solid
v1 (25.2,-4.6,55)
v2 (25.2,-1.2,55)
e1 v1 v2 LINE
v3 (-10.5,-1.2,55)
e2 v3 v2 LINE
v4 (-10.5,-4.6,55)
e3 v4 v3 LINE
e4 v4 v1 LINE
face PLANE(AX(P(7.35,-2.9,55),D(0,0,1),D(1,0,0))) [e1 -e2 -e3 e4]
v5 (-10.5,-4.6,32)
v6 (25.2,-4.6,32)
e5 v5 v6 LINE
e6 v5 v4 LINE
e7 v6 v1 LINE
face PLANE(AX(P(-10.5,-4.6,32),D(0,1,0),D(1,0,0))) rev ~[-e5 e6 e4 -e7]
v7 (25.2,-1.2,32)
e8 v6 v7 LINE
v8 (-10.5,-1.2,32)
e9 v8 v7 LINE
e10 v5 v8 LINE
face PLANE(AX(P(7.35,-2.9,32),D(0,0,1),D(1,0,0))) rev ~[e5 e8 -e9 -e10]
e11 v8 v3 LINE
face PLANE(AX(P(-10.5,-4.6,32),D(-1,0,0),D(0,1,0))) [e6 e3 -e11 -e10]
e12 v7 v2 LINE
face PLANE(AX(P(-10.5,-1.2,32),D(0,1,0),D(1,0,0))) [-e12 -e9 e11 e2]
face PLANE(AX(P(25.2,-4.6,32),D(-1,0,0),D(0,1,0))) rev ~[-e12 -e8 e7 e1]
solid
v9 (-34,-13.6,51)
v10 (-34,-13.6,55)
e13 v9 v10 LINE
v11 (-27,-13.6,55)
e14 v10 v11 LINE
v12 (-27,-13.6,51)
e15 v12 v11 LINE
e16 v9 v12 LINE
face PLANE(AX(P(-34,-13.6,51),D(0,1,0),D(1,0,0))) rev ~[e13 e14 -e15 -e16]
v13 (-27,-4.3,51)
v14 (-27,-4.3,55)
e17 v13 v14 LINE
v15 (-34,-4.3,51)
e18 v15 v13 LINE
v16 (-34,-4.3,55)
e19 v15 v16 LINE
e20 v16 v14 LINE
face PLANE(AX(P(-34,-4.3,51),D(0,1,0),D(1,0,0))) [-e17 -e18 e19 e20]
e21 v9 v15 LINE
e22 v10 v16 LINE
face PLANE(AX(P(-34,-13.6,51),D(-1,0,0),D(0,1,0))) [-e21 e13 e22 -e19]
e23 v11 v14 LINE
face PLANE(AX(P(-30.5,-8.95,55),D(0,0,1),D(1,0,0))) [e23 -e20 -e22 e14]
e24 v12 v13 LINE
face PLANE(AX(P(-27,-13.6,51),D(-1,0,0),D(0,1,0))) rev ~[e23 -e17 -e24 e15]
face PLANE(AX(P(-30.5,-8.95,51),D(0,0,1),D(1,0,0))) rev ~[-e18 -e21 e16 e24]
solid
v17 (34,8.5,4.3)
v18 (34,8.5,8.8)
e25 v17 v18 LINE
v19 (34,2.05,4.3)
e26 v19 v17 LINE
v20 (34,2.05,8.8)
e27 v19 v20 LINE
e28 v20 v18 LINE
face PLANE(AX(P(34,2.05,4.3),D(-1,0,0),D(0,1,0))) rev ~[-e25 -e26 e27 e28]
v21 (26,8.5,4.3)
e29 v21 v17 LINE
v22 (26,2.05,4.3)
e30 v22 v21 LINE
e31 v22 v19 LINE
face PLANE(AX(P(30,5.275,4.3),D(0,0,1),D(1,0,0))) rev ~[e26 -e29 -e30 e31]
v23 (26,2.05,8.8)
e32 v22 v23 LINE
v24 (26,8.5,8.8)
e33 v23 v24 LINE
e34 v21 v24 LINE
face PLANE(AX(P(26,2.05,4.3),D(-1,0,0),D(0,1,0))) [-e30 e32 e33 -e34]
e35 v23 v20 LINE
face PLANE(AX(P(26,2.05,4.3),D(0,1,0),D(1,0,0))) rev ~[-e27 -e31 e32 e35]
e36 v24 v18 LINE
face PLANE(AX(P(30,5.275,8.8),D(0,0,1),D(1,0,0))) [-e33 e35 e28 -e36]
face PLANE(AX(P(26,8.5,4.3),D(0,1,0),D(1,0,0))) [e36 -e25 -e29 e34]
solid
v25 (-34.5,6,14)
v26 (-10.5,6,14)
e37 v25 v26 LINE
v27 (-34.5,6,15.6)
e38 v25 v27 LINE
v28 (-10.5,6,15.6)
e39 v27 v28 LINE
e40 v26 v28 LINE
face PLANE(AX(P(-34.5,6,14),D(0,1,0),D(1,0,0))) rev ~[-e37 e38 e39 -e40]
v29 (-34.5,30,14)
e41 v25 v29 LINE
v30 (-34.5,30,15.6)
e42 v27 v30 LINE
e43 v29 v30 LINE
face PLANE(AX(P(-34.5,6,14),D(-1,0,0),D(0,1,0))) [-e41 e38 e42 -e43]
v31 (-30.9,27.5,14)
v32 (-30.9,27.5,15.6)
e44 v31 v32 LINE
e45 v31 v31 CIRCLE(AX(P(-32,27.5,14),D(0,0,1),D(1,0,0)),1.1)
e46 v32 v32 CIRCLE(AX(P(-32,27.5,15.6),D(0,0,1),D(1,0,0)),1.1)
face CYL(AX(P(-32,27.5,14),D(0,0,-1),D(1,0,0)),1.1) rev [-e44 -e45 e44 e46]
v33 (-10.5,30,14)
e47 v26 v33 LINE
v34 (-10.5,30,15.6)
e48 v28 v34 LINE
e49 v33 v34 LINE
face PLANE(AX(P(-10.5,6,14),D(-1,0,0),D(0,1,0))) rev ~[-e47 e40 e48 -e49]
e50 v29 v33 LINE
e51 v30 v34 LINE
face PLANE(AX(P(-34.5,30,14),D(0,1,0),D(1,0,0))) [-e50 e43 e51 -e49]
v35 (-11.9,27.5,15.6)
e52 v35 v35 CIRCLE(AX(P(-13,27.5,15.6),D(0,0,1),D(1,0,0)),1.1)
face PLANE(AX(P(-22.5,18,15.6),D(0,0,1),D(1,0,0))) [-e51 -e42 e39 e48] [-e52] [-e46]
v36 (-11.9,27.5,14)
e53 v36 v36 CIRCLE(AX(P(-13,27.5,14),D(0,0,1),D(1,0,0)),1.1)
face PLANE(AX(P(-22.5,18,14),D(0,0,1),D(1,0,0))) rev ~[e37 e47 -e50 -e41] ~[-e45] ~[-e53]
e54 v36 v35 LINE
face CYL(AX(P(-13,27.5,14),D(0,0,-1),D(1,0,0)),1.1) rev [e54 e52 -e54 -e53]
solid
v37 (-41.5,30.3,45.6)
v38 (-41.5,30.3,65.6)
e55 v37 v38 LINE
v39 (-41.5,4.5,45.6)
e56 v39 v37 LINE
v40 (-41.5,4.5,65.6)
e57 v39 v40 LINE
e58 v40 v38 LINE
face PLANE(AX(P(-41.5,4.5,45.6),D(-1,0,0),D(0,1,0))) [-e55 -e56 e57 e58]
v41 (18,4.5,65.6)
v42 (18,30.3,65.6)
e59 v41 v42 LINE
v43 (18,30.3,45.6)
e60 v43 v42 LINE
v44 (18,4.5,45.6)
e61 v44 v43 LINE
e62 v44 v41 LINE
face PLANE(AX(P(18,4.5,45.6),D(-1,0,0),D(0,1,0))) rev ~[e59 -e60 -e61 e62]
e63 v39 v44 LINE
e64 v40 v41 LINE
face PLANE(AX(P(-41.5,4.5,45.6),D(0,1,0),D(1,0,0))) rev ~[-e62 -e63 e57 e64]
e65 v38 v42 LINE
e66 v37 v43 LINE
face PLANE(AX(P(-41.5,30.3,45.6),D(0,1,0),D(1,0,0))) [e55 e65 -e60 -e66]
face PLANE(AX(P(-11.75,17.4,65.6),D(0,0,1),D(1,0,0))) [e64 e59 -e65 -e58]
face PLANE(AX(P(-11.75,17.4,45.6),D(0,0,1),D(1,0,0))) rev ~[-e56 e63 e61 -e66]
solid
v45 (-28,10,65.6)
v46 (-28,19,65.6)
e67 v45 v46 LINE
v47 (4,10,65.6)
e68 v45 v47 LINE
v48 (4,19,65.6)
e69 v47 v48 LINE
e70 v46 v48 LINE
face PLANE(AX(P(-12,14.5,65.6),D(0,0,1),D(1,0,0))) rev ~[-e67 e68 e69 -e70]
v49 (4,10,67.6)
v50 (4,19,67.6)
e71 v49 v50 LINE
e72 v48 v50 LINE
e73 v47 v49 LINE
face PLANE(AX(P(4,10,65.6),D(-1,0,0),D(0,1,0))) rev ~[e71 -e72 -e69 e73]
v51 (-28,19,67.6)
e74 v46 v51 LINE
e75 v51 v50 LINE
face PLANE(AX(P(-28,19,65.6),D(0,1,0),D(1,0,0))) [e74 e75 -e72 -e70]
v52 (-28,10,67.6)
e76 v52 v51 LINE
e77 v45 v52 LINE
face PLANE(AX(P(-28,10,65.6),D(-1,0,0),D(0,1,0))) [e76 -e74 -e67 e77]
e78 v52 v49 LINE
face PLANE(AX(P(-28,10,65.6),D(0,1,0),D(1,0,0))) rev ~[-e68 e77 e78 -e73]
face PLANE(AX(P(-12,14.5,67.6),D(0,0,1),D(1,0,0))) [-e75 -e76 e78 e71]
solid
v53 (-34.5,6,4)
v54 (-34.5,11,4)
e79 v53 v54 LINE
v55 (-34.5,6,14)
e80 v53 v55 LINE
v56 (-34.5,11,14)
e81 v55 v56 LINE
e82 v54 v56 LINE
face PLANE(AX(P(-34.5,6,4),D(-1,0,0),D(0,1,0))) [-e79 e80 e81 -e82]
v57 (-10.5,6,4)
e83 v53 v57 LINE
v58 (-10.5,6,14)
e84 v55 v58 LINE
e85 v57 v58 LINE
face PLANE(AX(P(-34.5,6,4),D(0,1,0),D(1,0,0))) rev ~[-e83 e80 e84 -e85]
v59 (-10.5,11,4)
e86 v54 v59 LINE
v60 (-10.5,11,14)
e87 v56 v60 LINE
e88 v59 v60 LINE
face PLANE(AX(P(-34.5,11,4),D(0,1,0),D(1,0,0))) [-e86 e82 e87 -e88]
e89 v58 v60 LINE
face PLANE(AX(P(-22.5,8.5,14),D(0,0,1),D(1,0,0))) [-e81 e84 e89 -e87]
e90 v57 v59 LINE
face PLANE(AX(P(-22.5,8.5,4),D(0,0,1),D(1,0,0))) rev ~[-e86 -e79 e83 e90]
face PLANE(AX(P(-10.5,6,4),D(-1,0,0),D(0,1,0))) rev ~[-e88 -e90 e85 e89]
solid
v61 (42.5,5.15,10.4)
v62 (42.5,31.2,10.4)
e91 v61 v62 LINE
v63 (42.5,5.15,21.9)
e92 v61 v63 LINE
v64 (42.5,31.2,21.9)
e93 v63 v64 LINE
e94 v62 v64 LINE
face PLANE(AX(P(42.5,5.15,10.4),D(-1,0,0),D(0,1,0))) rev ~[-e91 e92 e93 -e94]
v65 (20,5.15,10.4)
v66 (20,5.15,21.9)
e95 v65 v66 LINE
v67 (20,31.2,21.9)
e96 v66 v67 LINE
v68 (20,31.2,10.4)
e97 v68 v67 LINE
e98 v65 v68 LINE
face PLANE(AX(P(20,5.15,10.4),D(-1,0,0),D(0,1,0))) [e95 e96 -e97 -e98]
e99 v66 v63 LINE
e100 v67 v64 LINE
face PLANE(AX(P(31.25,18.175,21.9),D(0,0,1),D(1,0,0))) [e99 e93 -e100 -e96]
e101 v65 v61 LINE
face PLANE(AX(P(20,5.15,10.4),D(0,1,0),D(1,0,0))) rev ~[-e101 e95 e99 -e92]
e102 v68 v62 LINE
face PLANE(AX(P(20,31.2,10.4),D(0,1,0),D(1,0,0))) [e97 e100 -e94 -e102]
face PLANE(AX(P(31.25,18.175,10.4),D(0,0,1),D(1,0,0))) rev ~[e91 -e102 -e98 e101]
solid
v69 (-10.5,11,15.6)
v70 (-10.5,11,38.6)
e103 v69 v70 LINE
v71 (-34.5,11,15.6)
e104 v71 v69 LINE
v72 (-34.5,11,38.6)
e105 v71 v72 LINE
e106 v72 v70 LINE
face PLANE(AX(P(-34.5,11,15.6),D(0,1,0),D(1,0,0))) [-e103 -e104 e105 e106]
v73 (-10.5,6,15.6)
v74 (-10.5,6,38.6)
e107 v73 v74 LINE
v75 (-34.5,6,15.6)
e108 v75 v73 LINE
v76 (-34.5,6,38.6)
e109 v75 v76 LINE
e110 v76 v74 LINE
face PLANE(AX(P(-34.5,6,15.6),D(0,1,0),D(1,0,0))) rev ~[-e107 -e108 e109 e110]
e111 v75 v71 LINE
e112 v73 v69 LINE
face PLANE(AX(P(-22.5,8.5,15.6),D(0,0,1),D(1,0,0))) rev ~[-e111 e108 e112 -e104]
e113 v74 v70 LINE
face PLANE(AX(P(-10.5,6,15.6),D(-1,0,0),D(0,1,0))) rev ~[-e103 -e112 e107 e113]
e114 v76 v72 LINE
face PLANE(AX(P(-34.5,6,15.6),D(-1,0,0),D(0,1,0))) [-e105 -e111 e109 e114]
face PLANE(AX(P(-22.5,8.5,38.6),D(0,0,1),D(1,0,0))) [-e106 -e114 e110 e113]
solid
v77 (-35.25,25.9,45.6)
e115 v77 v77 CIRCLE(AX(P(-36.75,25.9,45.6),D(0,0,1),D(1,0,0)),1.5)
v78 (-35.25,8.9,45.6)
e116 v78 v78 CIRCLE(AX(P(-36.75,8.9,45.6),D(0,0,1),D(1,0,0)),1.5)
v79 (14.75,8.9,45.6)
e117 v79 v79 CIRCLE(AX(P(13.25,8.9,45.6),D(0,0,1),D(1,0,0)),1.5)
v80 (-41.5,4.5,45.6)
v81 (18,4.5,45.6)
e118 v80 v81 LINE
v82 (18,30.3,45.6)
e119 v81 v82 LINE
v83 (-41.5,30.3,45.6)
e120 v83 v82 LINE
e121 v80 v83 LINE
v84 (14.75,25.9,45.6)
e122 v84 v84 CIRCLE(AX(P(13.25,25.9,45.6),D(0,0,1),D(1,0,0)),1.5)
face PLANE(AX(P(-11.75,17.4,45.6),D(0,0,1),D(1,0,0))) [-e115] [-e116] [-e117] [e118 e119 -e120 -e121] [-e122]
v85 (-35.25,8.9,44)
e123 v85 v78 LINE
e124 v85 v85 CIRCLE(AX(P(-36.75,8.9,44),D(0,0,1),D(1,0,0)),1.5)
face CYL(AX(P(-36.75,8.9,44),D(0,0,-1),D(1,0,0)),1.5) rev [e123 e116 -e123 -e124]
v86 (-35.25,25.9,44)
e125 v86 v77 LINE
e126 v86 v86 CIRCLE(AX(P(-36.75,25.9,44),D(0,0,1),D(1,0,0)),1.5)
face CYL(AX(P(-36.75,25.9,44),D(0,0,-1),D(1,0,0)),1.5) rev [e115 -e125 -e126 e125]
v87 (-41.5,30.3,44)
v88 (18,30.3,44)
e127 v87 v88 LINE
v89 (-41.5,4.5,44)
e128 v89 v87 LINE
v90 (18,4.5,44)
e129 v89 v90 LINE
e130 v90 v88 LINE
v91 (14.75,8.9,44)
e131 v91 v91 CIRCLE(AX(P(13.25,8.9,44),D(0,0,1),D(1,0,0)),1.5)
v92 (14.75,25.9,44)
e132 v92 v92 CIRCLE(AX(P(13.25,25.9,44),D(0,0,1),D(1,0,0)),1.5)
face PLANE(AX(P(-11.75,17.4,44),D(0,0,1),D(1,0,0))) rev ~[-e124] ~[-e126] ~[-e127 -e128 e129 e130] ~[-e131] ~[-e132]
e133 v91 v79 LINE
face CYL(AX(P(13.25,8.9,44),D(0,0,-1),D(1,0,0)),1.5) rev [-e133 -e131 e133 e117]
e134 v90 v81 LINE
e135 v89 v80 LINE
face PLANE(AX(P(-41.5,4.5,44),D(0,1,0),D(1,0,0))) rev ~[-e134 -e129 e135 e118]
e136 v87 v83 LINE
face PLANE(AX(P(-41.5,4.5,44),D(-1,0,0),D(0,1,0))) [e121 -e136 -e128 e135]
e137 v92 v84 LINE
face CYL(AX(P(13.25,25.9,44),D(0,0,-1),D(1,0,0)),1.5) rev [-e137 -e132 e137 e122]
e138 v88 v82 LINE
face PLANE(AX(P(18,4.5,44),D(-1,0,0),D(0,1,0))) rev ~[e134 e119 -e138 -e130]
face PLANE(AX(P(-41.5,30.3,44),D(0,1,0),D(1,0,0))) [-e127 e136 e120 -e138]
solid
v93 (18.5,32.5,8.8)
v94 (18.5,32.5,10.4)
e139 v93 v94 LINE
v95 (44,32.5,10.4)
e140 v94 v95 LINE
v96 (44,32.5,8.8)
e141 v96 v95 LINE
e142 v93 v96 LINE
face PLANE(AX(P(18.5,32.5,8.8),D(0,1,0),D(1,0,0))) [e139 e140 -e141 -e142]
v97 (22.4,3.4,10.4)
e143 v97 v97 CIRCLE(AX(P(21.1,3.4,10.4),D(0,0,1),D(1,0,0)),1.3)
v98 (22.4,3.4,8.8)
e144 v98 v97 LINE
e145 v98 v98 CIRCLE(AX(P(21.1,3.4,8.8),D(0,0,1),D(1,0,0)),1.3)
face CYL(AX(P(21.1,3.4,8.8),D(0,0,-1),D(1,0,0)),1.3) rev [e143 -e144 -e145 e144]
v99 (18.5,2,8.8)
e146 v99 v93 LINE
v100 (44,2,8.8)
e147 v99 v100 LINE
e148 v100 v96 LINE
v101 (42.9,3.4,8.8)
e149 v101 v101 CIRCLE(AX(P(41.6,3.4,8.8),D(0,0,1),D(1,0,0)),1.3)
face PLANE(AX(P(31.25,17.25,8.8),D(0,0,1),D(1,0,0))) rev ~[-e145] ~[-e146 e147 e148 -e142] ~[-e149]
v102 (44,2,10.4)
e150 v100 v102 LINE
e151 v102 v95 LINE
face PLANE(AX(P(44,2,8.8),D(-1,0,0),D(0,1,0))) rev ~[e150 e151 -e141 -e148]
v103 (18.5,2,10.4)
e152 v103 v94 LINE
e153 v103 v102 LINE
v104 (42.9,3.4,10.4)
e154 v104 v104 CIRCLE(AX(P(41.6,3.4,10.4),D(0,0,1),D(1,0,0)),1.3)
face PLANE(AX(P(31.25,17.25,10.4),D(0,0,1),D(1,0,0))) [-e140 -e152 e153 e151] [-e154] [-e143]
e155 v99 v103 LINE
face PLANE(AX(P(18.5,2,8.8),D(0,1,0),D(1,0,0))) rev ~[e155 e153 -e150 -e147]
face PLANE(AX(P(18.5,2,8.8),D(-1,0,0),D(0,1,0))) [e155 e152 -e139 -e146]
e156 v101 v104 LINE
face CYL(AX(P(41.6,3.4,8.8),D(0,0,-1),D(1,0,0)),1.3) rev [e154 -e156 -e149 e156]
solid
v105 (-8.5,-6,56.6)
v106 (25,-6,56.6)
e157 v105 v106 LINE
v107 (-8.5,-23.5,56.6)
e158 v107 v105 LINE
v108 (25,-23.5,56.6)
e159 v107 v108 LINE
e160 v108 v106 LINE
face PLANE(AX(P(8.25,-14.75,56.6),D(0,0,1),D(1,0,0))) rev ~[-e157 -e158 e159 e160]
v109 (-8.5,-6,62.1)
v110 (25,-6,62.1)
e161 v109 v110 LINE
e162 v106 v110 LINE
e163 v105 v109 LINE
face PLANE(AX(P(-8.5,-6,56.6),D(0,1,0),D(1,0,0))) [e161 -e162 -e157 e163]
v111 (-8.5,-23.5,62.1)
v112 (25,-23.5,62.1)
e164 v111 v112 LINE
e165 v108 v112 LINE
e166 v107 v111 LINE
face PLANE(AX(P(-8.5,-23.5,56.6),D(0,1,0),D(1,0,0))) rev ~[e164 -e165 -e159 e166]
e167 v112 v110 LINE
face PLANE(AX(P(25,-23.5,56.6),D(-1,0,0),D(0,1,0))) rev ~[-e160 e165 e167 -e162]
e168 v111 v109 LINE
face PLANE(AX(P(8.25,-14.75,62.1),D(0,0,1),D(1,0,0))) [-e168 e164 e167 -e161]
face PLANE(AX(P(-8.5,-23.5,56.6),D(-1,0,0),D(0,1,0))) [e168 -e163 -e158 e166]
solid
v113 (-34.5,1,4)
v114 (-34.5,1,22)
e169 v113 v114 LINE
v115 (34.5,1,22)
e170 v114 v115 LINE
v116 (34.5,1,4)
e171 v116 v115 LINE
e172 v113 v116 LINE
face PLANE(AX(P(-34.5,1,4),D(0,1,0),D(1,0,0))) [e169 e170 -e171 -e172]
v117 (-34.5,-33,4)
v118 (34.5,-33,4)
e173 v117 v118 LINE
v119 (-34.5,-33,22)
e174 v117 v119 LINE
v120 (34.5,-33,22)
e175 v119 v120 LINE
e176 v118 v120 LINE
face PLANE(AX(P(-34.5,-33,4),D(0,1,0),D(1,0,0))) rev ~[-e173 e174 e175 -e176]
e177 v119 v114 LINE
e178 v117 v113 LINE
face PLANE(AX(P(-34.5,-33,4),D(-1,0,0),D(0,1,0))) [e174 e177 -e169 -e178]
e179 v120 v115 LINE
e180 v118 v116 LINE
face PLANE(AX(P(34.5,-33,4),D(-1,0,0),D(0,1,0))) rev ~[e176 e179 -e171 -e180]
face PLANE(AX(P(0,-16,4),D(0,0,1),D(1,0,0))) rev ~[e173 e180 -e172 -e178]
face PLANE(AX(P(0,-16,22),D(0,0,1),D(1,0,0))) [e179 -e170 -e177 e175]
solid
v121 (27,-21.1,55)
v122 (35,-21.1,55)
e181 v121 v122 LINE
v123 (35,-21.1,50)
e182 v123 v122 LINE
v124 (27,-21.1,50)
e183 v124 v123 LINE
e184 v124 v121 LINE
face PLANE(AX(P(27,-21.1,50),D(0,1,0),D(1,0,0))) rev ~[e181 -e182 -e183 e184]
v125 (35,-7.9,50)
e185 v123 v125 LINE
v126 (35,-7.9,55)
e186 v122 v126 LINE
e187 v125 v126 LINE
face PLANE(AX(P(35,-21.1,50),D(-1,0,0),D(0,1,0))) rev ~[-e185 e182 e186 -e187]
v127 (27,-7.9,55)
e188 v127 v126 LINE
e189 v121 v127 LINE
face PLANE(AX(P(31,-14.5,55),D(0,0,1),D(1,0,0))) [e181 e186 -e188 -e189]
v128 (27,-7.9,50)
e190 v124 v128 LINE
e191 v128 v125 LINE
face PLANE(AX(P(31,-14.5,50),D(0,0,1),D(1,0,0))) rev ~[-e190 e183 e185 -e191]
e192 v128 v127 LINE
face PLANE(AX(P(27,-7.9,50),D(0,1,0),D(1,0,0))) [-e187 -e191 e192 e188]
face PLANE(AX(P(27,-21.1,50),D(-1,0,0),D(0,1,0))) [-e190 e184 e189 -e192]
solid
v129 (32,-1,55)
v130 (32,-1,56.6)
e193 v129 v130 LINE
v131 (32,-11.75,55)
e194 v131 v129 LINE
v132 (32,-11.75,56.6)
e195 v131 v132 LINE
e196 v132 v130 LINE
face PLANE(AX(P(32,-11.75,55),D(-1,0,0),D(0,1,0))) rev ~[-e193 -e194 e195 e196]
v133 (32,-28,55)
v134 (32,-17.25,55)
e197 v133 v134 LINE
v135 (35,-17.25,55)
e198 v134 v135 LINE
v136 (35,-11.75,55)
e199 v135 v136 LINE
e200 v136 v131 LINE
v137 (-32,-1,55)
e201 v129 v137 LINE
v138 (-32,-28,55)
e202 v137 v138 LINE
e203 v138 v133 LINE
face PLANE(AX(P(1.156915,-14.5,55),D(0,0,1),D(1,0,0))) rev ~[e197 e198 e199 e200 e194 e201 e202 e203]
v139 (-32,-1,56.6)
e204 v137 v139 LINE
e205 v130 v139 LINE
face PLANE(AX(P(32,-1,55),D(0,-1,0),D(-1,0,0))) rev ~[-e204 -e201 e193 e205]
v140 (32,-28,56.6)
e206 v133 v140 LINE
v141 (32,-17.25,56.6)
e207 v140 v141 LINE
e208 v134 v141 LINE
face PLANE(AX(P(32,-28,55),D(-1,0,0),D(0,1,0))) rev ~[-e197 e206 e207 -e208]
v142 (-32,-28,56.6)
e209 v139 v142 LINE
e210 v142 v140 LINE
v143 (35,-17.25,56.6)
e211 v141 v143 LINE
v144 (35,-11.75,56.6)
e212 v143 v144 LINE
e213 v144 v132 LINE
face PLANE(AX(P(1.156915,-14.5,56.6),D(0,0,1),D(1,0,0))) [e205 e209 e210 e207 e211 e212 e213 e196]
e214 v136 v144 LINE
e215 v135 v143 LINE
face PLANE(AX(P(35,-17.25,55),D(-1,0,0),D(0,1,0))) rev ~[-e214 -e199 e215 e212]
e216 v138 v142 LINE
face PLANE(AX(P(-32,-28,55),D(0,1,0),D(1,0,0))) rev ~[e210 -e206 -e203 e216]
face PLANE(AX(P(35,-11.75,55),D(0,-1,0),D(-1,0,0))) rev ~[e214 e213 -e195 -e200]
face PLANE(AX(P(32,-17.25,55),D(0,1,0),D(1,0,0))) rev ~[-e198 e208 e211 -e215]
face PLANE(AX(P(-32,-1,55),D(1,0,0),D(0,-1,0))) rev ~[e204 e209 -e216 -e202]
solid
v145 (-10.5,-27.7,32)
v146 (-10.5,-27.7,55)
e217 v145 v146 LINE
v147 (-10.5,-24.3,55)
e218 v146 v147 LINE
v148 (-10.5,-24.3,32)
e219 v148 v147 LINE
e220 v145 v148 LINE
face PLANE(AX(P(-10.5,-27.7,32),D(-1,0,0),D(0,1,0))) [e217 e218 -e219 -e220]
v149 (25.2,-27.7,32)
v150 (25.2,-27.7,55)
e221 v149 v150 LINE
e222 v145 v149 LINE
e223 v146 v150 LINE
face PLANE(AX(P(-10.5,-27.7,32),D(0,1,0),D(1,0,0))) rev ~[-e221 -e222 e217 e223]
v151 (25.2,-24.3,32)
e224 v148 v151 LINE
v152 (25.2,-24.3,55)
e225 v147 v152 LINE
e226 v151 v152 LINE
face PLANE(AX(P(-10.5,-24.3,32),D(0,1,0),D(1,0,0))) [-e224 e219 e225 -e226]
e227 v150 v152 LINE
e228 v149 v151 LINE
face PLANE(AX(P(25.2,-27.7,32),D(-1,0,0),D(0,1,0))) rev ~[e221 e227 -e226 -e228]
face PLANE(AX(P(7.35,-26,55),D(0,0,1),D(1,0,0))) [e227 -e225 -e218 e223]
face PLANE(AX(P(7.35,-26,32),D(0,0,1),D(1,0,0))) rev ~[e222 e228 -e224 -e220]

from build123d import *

# Parameters (mm, degrees)
EXTRUDE_START           = 4
PROFILE_W               = 69
PROFILE_H               = 34
EXTRUDE_469_DEPTH       = 18
EXTRUDE_START_2         = 14
F_24_24_2_2_PROFILE_W   = 24
F_24_24_2_2_PROFILE_H   = 24
F_24_24_2_2_PROFILE_R   = 1.1
EXTRUDE_24_24_2_2_DEPTH = 1.6
F_5MM_10MM_START        = 4
F_5MM_10MM_PROFILE_W    = 24
F_5MM_10MM_PROFILE_H    = 5
F_5MM_10MM_DEPTH        = 10
F_5MM_START             = 15.6
F_5MM_PROFILE_W         = 24
F_5MM_PROFILE_H         = 5
F_5MM_DEPTH             = 23
GNSS_3MM_2_6_START      = 8.8
GNSS_3MM_2_6_PROFILE_W  = 25.5
GNSS_3MM_2_6_PROFILE_H  = 30.5
GNSS_3MM_2_6_PROFILE_R  = 1.3
GNSS_3MM_2_6_DEPTH      = 1.6
GNSS_11_5MM_START       = 10.4
GNSS_11_5MM_PROFILE_W   = 22.5
GNSS_11_5MM_PROFILE_H   = 26.05
GNSS_11_5MM_DEPTH       = 11.5
GNSS_START              = 4.3
GNSS_PROFILE_W          = 8
GNSS_PROFILE_H          = 6.45
GNSS_DEPTH              = 4.5
EXTRUDE_START_3         = 44
PROFILE_2_W             = 59.5
PROFILE_2_H             = 25.8
PROFILE_2_R             = 1.5
EXTRUDE_907_DEPTH       = 1.6
F_20MM_START            = 45.6
F_20MM_PROFILE_W        = 59.5
F_20MM_PROFILE_H        = 25.8
F_20MM_DEPTH            = 20
F_20MM_START_2          = 65.6
F_20MM_PROFILE_2_W      = 32
F_20MM_PROFILE_2_H      = 9
F_20MM_2_DEPTH          = 2
EORA_START              = 55
EORA_DEPTH              = 1.6
EORA_5_5MM_START        = 56.6
EORA_5_5MM_PROFILE_W    = 33.5
EORA_5_5MM_PROFILE_H    = 17.5
EORA_5_5MM_DEPTH        = 5.5
EORA_START_2            = 32
EORA_PROFILE_2_W        = 35.7
EORA_PROFILE_2_H        = 3.4
EORA_2_DEPTH            = 23
EORA_PROFILE_3_W        = 35.7
EORA_PROFILE_3_H        = 3.4
EORA_3_DEPTH            = 23
EORA_4MM_START          = 51
EORA_4MM_PROFILE_W      = 7
EORA_4MM_PROFILE_H      = 9.3
EORA_4MM_DEPTH          = 4
EORA_5MM_START          = 50
EORA_5MM_PROFILE_W      = 8
EORA_5MM_PROFILE_H      = 13.2
EORA_5MM_DEPTH          = 5


with BuildPart() as part:
    # profile → Extrude 469 (new body)
    with BuildSketch(Plane.XY.offset(EXTRUDE_START)):
        with Locations((0, -16)):
            Rectangle(PROFILE_W, PROFILE_H)
    extrude(amount=EXTRUDE_469_DEPTH)


with BuildPart() as body_2:
    # 传感器板 24×24，Ø2.2孔 profile → 传感器板 24×24，Ø2.2孔 (new body)
    with BuildSketch(Plane.XY.offset(EXTRUDE_START_2)):
        with Locations((-22.5, 18)):
            Rectangle(F_24_24_2_2_PROFILE_W, F_24_24_2_2_PROFILE_H)
        with Locations((-32, 27.5)):
            Circle(F_24_24_2_2_PROFILE_R, mode=Mode.SUBTRACT)
        with Locations((-13, 27.5)):
            Circle(F_24_24_2_2_PROFILE_R, mode=Mode.SUBTRACT)
    extrude(amount=EXTRUDE_24_24_2_2_DEPTH)


with BuildPart() as body_3:
    # 排针侧5mm，板下按10mm避空 profile → 排针侧5mm，板下按10mm避空 (new body)
    with BuildSketch(Plane.XY.offset(F_5MM_10MM_START)):
        with Locations((-22.5, 8.5)):
            Rectangle(F_5MM_10MM_PROFILE_W, F_5MM_10MM_PROFILE_H)
    extrude(amount=F_5MM_10MM_DEPTH)


with BuildPart() as body_4:
    # 排针侧5mm，板上线头和弯线预留 profile → 排针侧5mm，板上线头和弯线预留 (new body)
    with BuildSketch(Plane.XY.offset(F_5MM_START)):
        with Locations((-22.5, 8.5)):
            Rectangle(F_5MM_PROFILE_W, F_5MM_PROFILE_H)
    extrude(amount=F_5MM_DEPTH)


with BuildPart() as body_5:
    # GNSS板，3mm单边Ø2.6安装区 profile → GNSS板，3mm单边Ø2.6安装区 (new body)
    with BuildSketch(Plane.XY.offset(GNSS_3MM_2_6_START)):
        with Locations((31.25, 17.25)):
            Rectangle(GNSS_3MM_2_6_PROFILE_W, GNSS_3MM_2_6_PROFILE_H)
        with Locations((21.1, 3.4)):
            Circle(GNSS_3MM_2_6_PROFILE_R, mode=Mode.SUBTRACT)
        with Locations((41.6, 3.4)):
            Circle(GNSS_3MM_2_6_PROFILE_R, mode=Mode.SUBTRACT)
    extrude(amount=GNSS_3MM_2_6_DEPTH)


with BuildPart() as body_6:
    # GNSS陶瓷天线面朝上，保留11.5mm profile → GNSS陶瓷天线面朝上，保留11.5mm (new body)
    with BuildSketch(Plane.XY.offset(GNSS_11_5MM_START)):
        with Locations((31.25, 18.175)):
            Rectangle(GNSS_11_5MM_PROFILE_W, GNSS_11_5MM_PROFILE_H)
    extrude(amount=GNSS_11_5MM_DEPTH)


with BuildPart() as body_7:
    # GNSS背面插头预留 profile → GNSS背面插头预留 (new body)
    with BuildSketch(Plane.XY.offset(GNSS_START)):
        with Locations((30, 5.275)):
            Rectangle(GNSS_PROFILE_W, GNSS_PROFILE_H)
    extrude(amount=GNSS_DEPTH)


with BuildPart() as body_8:
    # profile 2 → Extrude 907 (new body)
    with BuildSketch(Plane.XY.offset(EXTRUDE_START_3)):
        with Locations((-11.75, 17.4)):
            Rectangle(PROFILE_2_W, PROFILE_2_H)
        with Locations((-36.75, 8.9)):
            Circle(PROFILE_2_R, mode=Mode.SUBTRACT)
        with Locations((13.25, 8.9)):
            Circle(PROFILE_2_R, mode=Mode.SUBTRACT)
        with Locations((-36.75, 25.9)):
            Circle(PROFILE_2_R, mode=Mode.SUBTRACT)
        with Locations((13.25, 25.9)):
            Circle(PROFILE_2_R, mode=Mode.SUBTRACT)
    extrude(amount=EXTRUDE_907_DEPTH)


with BuildPart() as body_9:
    # 20mm_ profile → 20mm (new body)
    with BuildSketch(Plane.XY.offset(F_20MM_START)):
        with Locations((-11.75, 17.4)):
            Rectangle(F_20MM_PROFILE_W, F_20MM_PROFILE_H)
    extrude(amount=F_20MM_DEPTH)


with BuildPart() as body_10:
    # 20mm_ profile 2 → 20mm 2 (new body)
    with BuildSketch(Plane.XY.offset(F_20MM_START_2)):
        with Locations((-12, 14.5)):
            Rectangle(F_20MM_PROFILE_2_W, F_20MM_PROFILE_2_H)
    extrude(amount=F_20MM_2_DEPTH)


with BuildPart() as body_11:
    # EoRa_ profile → EoRa (new body)
    with BuildSketch(Plane.XY.offset(EORA_START)):
        Polygon((-32, -28), (32, -28), (32, -17.25), (35, -17.25), (35, -11.75), (32, -11.75), (32, -1), (-32, -1), align=None)
    extrude(amount=EORA_DEPTH)


with BuildPart() as body_12:
    # EoRa屏幕5.5mm profile → EoRa屏幕5.5mm (new body)
    with BuildSketch(Plane.XY.offset(EORA_5_5MM_START)):
        with Locations((8.25, -14.75)):
            Rectangle(EORA_5_5MM_PROFILE_W, EORA_5_5MM_PROFILE_H)
    extrude(amount=EORA_5_5MM_DEPTH)


with BuildPart() as body_13:
    # EoRa_ profile 2 → EoRa 2 (new body)
    with BuildSketch(Plane.XY.offset(EORA_START_2)):
        with Locations((7.35, -26)):
            Rectangle(EORA_PROFILE_2_W, EORA_PROFILE_2_H)
    extrude(amount=EORA_2_DEPTH)


with BuildPart() as body_14:
    # EoRa_ profile 3 → EoRa 3 (new body)
    with BuildSketch(Plane.XY.offset(EORA_START_2)):
        with Locations((7.35, -2.9)):
            Rectangle(EORA_PROFILE_3_W, EORA_PROFILE_3_H)
    extrude(amount=EORA_3_DEPTH)


with BuildPart() as body_15:
    # EoRa接口端背面4mm避空 profile → EoRa接口端背面4mm避空 (new body)
    with BuildSketch(Plane.XY.offset(EORA_4MM_START)):
        with Locations((-30.5, -8.95)):
            Rectangle(EORA_4MM_PROFILE_W, EORA_4MM_PROFILE_H)
    extrude(amount=EORA_4MM_DEPTH)


with BuildPart() as body_16:
    # EoRa另一端背面5mm避空 profile → EoRa另一端背面5mm避空 (new body)
    with BuildSketch(Plane.XY.offset(EORA_5MM_START)):
        with Locations((31, -14.5)):
            Rectangle(EORA_5MM_PROFILE_W, EORA_5MM_PROFILE_H)
    extrude(amount=EORA_5MM_DEPTH)


solid = Compound([part.part, body_2.part, body_3.part, body_4.part, body_5.part, body_6.part, body_7.part, body_8.part, body_9.part, body_10.part, body_11.part, body_12.part, body_13.part, body_14.part, body_15.part, body_16.part])
